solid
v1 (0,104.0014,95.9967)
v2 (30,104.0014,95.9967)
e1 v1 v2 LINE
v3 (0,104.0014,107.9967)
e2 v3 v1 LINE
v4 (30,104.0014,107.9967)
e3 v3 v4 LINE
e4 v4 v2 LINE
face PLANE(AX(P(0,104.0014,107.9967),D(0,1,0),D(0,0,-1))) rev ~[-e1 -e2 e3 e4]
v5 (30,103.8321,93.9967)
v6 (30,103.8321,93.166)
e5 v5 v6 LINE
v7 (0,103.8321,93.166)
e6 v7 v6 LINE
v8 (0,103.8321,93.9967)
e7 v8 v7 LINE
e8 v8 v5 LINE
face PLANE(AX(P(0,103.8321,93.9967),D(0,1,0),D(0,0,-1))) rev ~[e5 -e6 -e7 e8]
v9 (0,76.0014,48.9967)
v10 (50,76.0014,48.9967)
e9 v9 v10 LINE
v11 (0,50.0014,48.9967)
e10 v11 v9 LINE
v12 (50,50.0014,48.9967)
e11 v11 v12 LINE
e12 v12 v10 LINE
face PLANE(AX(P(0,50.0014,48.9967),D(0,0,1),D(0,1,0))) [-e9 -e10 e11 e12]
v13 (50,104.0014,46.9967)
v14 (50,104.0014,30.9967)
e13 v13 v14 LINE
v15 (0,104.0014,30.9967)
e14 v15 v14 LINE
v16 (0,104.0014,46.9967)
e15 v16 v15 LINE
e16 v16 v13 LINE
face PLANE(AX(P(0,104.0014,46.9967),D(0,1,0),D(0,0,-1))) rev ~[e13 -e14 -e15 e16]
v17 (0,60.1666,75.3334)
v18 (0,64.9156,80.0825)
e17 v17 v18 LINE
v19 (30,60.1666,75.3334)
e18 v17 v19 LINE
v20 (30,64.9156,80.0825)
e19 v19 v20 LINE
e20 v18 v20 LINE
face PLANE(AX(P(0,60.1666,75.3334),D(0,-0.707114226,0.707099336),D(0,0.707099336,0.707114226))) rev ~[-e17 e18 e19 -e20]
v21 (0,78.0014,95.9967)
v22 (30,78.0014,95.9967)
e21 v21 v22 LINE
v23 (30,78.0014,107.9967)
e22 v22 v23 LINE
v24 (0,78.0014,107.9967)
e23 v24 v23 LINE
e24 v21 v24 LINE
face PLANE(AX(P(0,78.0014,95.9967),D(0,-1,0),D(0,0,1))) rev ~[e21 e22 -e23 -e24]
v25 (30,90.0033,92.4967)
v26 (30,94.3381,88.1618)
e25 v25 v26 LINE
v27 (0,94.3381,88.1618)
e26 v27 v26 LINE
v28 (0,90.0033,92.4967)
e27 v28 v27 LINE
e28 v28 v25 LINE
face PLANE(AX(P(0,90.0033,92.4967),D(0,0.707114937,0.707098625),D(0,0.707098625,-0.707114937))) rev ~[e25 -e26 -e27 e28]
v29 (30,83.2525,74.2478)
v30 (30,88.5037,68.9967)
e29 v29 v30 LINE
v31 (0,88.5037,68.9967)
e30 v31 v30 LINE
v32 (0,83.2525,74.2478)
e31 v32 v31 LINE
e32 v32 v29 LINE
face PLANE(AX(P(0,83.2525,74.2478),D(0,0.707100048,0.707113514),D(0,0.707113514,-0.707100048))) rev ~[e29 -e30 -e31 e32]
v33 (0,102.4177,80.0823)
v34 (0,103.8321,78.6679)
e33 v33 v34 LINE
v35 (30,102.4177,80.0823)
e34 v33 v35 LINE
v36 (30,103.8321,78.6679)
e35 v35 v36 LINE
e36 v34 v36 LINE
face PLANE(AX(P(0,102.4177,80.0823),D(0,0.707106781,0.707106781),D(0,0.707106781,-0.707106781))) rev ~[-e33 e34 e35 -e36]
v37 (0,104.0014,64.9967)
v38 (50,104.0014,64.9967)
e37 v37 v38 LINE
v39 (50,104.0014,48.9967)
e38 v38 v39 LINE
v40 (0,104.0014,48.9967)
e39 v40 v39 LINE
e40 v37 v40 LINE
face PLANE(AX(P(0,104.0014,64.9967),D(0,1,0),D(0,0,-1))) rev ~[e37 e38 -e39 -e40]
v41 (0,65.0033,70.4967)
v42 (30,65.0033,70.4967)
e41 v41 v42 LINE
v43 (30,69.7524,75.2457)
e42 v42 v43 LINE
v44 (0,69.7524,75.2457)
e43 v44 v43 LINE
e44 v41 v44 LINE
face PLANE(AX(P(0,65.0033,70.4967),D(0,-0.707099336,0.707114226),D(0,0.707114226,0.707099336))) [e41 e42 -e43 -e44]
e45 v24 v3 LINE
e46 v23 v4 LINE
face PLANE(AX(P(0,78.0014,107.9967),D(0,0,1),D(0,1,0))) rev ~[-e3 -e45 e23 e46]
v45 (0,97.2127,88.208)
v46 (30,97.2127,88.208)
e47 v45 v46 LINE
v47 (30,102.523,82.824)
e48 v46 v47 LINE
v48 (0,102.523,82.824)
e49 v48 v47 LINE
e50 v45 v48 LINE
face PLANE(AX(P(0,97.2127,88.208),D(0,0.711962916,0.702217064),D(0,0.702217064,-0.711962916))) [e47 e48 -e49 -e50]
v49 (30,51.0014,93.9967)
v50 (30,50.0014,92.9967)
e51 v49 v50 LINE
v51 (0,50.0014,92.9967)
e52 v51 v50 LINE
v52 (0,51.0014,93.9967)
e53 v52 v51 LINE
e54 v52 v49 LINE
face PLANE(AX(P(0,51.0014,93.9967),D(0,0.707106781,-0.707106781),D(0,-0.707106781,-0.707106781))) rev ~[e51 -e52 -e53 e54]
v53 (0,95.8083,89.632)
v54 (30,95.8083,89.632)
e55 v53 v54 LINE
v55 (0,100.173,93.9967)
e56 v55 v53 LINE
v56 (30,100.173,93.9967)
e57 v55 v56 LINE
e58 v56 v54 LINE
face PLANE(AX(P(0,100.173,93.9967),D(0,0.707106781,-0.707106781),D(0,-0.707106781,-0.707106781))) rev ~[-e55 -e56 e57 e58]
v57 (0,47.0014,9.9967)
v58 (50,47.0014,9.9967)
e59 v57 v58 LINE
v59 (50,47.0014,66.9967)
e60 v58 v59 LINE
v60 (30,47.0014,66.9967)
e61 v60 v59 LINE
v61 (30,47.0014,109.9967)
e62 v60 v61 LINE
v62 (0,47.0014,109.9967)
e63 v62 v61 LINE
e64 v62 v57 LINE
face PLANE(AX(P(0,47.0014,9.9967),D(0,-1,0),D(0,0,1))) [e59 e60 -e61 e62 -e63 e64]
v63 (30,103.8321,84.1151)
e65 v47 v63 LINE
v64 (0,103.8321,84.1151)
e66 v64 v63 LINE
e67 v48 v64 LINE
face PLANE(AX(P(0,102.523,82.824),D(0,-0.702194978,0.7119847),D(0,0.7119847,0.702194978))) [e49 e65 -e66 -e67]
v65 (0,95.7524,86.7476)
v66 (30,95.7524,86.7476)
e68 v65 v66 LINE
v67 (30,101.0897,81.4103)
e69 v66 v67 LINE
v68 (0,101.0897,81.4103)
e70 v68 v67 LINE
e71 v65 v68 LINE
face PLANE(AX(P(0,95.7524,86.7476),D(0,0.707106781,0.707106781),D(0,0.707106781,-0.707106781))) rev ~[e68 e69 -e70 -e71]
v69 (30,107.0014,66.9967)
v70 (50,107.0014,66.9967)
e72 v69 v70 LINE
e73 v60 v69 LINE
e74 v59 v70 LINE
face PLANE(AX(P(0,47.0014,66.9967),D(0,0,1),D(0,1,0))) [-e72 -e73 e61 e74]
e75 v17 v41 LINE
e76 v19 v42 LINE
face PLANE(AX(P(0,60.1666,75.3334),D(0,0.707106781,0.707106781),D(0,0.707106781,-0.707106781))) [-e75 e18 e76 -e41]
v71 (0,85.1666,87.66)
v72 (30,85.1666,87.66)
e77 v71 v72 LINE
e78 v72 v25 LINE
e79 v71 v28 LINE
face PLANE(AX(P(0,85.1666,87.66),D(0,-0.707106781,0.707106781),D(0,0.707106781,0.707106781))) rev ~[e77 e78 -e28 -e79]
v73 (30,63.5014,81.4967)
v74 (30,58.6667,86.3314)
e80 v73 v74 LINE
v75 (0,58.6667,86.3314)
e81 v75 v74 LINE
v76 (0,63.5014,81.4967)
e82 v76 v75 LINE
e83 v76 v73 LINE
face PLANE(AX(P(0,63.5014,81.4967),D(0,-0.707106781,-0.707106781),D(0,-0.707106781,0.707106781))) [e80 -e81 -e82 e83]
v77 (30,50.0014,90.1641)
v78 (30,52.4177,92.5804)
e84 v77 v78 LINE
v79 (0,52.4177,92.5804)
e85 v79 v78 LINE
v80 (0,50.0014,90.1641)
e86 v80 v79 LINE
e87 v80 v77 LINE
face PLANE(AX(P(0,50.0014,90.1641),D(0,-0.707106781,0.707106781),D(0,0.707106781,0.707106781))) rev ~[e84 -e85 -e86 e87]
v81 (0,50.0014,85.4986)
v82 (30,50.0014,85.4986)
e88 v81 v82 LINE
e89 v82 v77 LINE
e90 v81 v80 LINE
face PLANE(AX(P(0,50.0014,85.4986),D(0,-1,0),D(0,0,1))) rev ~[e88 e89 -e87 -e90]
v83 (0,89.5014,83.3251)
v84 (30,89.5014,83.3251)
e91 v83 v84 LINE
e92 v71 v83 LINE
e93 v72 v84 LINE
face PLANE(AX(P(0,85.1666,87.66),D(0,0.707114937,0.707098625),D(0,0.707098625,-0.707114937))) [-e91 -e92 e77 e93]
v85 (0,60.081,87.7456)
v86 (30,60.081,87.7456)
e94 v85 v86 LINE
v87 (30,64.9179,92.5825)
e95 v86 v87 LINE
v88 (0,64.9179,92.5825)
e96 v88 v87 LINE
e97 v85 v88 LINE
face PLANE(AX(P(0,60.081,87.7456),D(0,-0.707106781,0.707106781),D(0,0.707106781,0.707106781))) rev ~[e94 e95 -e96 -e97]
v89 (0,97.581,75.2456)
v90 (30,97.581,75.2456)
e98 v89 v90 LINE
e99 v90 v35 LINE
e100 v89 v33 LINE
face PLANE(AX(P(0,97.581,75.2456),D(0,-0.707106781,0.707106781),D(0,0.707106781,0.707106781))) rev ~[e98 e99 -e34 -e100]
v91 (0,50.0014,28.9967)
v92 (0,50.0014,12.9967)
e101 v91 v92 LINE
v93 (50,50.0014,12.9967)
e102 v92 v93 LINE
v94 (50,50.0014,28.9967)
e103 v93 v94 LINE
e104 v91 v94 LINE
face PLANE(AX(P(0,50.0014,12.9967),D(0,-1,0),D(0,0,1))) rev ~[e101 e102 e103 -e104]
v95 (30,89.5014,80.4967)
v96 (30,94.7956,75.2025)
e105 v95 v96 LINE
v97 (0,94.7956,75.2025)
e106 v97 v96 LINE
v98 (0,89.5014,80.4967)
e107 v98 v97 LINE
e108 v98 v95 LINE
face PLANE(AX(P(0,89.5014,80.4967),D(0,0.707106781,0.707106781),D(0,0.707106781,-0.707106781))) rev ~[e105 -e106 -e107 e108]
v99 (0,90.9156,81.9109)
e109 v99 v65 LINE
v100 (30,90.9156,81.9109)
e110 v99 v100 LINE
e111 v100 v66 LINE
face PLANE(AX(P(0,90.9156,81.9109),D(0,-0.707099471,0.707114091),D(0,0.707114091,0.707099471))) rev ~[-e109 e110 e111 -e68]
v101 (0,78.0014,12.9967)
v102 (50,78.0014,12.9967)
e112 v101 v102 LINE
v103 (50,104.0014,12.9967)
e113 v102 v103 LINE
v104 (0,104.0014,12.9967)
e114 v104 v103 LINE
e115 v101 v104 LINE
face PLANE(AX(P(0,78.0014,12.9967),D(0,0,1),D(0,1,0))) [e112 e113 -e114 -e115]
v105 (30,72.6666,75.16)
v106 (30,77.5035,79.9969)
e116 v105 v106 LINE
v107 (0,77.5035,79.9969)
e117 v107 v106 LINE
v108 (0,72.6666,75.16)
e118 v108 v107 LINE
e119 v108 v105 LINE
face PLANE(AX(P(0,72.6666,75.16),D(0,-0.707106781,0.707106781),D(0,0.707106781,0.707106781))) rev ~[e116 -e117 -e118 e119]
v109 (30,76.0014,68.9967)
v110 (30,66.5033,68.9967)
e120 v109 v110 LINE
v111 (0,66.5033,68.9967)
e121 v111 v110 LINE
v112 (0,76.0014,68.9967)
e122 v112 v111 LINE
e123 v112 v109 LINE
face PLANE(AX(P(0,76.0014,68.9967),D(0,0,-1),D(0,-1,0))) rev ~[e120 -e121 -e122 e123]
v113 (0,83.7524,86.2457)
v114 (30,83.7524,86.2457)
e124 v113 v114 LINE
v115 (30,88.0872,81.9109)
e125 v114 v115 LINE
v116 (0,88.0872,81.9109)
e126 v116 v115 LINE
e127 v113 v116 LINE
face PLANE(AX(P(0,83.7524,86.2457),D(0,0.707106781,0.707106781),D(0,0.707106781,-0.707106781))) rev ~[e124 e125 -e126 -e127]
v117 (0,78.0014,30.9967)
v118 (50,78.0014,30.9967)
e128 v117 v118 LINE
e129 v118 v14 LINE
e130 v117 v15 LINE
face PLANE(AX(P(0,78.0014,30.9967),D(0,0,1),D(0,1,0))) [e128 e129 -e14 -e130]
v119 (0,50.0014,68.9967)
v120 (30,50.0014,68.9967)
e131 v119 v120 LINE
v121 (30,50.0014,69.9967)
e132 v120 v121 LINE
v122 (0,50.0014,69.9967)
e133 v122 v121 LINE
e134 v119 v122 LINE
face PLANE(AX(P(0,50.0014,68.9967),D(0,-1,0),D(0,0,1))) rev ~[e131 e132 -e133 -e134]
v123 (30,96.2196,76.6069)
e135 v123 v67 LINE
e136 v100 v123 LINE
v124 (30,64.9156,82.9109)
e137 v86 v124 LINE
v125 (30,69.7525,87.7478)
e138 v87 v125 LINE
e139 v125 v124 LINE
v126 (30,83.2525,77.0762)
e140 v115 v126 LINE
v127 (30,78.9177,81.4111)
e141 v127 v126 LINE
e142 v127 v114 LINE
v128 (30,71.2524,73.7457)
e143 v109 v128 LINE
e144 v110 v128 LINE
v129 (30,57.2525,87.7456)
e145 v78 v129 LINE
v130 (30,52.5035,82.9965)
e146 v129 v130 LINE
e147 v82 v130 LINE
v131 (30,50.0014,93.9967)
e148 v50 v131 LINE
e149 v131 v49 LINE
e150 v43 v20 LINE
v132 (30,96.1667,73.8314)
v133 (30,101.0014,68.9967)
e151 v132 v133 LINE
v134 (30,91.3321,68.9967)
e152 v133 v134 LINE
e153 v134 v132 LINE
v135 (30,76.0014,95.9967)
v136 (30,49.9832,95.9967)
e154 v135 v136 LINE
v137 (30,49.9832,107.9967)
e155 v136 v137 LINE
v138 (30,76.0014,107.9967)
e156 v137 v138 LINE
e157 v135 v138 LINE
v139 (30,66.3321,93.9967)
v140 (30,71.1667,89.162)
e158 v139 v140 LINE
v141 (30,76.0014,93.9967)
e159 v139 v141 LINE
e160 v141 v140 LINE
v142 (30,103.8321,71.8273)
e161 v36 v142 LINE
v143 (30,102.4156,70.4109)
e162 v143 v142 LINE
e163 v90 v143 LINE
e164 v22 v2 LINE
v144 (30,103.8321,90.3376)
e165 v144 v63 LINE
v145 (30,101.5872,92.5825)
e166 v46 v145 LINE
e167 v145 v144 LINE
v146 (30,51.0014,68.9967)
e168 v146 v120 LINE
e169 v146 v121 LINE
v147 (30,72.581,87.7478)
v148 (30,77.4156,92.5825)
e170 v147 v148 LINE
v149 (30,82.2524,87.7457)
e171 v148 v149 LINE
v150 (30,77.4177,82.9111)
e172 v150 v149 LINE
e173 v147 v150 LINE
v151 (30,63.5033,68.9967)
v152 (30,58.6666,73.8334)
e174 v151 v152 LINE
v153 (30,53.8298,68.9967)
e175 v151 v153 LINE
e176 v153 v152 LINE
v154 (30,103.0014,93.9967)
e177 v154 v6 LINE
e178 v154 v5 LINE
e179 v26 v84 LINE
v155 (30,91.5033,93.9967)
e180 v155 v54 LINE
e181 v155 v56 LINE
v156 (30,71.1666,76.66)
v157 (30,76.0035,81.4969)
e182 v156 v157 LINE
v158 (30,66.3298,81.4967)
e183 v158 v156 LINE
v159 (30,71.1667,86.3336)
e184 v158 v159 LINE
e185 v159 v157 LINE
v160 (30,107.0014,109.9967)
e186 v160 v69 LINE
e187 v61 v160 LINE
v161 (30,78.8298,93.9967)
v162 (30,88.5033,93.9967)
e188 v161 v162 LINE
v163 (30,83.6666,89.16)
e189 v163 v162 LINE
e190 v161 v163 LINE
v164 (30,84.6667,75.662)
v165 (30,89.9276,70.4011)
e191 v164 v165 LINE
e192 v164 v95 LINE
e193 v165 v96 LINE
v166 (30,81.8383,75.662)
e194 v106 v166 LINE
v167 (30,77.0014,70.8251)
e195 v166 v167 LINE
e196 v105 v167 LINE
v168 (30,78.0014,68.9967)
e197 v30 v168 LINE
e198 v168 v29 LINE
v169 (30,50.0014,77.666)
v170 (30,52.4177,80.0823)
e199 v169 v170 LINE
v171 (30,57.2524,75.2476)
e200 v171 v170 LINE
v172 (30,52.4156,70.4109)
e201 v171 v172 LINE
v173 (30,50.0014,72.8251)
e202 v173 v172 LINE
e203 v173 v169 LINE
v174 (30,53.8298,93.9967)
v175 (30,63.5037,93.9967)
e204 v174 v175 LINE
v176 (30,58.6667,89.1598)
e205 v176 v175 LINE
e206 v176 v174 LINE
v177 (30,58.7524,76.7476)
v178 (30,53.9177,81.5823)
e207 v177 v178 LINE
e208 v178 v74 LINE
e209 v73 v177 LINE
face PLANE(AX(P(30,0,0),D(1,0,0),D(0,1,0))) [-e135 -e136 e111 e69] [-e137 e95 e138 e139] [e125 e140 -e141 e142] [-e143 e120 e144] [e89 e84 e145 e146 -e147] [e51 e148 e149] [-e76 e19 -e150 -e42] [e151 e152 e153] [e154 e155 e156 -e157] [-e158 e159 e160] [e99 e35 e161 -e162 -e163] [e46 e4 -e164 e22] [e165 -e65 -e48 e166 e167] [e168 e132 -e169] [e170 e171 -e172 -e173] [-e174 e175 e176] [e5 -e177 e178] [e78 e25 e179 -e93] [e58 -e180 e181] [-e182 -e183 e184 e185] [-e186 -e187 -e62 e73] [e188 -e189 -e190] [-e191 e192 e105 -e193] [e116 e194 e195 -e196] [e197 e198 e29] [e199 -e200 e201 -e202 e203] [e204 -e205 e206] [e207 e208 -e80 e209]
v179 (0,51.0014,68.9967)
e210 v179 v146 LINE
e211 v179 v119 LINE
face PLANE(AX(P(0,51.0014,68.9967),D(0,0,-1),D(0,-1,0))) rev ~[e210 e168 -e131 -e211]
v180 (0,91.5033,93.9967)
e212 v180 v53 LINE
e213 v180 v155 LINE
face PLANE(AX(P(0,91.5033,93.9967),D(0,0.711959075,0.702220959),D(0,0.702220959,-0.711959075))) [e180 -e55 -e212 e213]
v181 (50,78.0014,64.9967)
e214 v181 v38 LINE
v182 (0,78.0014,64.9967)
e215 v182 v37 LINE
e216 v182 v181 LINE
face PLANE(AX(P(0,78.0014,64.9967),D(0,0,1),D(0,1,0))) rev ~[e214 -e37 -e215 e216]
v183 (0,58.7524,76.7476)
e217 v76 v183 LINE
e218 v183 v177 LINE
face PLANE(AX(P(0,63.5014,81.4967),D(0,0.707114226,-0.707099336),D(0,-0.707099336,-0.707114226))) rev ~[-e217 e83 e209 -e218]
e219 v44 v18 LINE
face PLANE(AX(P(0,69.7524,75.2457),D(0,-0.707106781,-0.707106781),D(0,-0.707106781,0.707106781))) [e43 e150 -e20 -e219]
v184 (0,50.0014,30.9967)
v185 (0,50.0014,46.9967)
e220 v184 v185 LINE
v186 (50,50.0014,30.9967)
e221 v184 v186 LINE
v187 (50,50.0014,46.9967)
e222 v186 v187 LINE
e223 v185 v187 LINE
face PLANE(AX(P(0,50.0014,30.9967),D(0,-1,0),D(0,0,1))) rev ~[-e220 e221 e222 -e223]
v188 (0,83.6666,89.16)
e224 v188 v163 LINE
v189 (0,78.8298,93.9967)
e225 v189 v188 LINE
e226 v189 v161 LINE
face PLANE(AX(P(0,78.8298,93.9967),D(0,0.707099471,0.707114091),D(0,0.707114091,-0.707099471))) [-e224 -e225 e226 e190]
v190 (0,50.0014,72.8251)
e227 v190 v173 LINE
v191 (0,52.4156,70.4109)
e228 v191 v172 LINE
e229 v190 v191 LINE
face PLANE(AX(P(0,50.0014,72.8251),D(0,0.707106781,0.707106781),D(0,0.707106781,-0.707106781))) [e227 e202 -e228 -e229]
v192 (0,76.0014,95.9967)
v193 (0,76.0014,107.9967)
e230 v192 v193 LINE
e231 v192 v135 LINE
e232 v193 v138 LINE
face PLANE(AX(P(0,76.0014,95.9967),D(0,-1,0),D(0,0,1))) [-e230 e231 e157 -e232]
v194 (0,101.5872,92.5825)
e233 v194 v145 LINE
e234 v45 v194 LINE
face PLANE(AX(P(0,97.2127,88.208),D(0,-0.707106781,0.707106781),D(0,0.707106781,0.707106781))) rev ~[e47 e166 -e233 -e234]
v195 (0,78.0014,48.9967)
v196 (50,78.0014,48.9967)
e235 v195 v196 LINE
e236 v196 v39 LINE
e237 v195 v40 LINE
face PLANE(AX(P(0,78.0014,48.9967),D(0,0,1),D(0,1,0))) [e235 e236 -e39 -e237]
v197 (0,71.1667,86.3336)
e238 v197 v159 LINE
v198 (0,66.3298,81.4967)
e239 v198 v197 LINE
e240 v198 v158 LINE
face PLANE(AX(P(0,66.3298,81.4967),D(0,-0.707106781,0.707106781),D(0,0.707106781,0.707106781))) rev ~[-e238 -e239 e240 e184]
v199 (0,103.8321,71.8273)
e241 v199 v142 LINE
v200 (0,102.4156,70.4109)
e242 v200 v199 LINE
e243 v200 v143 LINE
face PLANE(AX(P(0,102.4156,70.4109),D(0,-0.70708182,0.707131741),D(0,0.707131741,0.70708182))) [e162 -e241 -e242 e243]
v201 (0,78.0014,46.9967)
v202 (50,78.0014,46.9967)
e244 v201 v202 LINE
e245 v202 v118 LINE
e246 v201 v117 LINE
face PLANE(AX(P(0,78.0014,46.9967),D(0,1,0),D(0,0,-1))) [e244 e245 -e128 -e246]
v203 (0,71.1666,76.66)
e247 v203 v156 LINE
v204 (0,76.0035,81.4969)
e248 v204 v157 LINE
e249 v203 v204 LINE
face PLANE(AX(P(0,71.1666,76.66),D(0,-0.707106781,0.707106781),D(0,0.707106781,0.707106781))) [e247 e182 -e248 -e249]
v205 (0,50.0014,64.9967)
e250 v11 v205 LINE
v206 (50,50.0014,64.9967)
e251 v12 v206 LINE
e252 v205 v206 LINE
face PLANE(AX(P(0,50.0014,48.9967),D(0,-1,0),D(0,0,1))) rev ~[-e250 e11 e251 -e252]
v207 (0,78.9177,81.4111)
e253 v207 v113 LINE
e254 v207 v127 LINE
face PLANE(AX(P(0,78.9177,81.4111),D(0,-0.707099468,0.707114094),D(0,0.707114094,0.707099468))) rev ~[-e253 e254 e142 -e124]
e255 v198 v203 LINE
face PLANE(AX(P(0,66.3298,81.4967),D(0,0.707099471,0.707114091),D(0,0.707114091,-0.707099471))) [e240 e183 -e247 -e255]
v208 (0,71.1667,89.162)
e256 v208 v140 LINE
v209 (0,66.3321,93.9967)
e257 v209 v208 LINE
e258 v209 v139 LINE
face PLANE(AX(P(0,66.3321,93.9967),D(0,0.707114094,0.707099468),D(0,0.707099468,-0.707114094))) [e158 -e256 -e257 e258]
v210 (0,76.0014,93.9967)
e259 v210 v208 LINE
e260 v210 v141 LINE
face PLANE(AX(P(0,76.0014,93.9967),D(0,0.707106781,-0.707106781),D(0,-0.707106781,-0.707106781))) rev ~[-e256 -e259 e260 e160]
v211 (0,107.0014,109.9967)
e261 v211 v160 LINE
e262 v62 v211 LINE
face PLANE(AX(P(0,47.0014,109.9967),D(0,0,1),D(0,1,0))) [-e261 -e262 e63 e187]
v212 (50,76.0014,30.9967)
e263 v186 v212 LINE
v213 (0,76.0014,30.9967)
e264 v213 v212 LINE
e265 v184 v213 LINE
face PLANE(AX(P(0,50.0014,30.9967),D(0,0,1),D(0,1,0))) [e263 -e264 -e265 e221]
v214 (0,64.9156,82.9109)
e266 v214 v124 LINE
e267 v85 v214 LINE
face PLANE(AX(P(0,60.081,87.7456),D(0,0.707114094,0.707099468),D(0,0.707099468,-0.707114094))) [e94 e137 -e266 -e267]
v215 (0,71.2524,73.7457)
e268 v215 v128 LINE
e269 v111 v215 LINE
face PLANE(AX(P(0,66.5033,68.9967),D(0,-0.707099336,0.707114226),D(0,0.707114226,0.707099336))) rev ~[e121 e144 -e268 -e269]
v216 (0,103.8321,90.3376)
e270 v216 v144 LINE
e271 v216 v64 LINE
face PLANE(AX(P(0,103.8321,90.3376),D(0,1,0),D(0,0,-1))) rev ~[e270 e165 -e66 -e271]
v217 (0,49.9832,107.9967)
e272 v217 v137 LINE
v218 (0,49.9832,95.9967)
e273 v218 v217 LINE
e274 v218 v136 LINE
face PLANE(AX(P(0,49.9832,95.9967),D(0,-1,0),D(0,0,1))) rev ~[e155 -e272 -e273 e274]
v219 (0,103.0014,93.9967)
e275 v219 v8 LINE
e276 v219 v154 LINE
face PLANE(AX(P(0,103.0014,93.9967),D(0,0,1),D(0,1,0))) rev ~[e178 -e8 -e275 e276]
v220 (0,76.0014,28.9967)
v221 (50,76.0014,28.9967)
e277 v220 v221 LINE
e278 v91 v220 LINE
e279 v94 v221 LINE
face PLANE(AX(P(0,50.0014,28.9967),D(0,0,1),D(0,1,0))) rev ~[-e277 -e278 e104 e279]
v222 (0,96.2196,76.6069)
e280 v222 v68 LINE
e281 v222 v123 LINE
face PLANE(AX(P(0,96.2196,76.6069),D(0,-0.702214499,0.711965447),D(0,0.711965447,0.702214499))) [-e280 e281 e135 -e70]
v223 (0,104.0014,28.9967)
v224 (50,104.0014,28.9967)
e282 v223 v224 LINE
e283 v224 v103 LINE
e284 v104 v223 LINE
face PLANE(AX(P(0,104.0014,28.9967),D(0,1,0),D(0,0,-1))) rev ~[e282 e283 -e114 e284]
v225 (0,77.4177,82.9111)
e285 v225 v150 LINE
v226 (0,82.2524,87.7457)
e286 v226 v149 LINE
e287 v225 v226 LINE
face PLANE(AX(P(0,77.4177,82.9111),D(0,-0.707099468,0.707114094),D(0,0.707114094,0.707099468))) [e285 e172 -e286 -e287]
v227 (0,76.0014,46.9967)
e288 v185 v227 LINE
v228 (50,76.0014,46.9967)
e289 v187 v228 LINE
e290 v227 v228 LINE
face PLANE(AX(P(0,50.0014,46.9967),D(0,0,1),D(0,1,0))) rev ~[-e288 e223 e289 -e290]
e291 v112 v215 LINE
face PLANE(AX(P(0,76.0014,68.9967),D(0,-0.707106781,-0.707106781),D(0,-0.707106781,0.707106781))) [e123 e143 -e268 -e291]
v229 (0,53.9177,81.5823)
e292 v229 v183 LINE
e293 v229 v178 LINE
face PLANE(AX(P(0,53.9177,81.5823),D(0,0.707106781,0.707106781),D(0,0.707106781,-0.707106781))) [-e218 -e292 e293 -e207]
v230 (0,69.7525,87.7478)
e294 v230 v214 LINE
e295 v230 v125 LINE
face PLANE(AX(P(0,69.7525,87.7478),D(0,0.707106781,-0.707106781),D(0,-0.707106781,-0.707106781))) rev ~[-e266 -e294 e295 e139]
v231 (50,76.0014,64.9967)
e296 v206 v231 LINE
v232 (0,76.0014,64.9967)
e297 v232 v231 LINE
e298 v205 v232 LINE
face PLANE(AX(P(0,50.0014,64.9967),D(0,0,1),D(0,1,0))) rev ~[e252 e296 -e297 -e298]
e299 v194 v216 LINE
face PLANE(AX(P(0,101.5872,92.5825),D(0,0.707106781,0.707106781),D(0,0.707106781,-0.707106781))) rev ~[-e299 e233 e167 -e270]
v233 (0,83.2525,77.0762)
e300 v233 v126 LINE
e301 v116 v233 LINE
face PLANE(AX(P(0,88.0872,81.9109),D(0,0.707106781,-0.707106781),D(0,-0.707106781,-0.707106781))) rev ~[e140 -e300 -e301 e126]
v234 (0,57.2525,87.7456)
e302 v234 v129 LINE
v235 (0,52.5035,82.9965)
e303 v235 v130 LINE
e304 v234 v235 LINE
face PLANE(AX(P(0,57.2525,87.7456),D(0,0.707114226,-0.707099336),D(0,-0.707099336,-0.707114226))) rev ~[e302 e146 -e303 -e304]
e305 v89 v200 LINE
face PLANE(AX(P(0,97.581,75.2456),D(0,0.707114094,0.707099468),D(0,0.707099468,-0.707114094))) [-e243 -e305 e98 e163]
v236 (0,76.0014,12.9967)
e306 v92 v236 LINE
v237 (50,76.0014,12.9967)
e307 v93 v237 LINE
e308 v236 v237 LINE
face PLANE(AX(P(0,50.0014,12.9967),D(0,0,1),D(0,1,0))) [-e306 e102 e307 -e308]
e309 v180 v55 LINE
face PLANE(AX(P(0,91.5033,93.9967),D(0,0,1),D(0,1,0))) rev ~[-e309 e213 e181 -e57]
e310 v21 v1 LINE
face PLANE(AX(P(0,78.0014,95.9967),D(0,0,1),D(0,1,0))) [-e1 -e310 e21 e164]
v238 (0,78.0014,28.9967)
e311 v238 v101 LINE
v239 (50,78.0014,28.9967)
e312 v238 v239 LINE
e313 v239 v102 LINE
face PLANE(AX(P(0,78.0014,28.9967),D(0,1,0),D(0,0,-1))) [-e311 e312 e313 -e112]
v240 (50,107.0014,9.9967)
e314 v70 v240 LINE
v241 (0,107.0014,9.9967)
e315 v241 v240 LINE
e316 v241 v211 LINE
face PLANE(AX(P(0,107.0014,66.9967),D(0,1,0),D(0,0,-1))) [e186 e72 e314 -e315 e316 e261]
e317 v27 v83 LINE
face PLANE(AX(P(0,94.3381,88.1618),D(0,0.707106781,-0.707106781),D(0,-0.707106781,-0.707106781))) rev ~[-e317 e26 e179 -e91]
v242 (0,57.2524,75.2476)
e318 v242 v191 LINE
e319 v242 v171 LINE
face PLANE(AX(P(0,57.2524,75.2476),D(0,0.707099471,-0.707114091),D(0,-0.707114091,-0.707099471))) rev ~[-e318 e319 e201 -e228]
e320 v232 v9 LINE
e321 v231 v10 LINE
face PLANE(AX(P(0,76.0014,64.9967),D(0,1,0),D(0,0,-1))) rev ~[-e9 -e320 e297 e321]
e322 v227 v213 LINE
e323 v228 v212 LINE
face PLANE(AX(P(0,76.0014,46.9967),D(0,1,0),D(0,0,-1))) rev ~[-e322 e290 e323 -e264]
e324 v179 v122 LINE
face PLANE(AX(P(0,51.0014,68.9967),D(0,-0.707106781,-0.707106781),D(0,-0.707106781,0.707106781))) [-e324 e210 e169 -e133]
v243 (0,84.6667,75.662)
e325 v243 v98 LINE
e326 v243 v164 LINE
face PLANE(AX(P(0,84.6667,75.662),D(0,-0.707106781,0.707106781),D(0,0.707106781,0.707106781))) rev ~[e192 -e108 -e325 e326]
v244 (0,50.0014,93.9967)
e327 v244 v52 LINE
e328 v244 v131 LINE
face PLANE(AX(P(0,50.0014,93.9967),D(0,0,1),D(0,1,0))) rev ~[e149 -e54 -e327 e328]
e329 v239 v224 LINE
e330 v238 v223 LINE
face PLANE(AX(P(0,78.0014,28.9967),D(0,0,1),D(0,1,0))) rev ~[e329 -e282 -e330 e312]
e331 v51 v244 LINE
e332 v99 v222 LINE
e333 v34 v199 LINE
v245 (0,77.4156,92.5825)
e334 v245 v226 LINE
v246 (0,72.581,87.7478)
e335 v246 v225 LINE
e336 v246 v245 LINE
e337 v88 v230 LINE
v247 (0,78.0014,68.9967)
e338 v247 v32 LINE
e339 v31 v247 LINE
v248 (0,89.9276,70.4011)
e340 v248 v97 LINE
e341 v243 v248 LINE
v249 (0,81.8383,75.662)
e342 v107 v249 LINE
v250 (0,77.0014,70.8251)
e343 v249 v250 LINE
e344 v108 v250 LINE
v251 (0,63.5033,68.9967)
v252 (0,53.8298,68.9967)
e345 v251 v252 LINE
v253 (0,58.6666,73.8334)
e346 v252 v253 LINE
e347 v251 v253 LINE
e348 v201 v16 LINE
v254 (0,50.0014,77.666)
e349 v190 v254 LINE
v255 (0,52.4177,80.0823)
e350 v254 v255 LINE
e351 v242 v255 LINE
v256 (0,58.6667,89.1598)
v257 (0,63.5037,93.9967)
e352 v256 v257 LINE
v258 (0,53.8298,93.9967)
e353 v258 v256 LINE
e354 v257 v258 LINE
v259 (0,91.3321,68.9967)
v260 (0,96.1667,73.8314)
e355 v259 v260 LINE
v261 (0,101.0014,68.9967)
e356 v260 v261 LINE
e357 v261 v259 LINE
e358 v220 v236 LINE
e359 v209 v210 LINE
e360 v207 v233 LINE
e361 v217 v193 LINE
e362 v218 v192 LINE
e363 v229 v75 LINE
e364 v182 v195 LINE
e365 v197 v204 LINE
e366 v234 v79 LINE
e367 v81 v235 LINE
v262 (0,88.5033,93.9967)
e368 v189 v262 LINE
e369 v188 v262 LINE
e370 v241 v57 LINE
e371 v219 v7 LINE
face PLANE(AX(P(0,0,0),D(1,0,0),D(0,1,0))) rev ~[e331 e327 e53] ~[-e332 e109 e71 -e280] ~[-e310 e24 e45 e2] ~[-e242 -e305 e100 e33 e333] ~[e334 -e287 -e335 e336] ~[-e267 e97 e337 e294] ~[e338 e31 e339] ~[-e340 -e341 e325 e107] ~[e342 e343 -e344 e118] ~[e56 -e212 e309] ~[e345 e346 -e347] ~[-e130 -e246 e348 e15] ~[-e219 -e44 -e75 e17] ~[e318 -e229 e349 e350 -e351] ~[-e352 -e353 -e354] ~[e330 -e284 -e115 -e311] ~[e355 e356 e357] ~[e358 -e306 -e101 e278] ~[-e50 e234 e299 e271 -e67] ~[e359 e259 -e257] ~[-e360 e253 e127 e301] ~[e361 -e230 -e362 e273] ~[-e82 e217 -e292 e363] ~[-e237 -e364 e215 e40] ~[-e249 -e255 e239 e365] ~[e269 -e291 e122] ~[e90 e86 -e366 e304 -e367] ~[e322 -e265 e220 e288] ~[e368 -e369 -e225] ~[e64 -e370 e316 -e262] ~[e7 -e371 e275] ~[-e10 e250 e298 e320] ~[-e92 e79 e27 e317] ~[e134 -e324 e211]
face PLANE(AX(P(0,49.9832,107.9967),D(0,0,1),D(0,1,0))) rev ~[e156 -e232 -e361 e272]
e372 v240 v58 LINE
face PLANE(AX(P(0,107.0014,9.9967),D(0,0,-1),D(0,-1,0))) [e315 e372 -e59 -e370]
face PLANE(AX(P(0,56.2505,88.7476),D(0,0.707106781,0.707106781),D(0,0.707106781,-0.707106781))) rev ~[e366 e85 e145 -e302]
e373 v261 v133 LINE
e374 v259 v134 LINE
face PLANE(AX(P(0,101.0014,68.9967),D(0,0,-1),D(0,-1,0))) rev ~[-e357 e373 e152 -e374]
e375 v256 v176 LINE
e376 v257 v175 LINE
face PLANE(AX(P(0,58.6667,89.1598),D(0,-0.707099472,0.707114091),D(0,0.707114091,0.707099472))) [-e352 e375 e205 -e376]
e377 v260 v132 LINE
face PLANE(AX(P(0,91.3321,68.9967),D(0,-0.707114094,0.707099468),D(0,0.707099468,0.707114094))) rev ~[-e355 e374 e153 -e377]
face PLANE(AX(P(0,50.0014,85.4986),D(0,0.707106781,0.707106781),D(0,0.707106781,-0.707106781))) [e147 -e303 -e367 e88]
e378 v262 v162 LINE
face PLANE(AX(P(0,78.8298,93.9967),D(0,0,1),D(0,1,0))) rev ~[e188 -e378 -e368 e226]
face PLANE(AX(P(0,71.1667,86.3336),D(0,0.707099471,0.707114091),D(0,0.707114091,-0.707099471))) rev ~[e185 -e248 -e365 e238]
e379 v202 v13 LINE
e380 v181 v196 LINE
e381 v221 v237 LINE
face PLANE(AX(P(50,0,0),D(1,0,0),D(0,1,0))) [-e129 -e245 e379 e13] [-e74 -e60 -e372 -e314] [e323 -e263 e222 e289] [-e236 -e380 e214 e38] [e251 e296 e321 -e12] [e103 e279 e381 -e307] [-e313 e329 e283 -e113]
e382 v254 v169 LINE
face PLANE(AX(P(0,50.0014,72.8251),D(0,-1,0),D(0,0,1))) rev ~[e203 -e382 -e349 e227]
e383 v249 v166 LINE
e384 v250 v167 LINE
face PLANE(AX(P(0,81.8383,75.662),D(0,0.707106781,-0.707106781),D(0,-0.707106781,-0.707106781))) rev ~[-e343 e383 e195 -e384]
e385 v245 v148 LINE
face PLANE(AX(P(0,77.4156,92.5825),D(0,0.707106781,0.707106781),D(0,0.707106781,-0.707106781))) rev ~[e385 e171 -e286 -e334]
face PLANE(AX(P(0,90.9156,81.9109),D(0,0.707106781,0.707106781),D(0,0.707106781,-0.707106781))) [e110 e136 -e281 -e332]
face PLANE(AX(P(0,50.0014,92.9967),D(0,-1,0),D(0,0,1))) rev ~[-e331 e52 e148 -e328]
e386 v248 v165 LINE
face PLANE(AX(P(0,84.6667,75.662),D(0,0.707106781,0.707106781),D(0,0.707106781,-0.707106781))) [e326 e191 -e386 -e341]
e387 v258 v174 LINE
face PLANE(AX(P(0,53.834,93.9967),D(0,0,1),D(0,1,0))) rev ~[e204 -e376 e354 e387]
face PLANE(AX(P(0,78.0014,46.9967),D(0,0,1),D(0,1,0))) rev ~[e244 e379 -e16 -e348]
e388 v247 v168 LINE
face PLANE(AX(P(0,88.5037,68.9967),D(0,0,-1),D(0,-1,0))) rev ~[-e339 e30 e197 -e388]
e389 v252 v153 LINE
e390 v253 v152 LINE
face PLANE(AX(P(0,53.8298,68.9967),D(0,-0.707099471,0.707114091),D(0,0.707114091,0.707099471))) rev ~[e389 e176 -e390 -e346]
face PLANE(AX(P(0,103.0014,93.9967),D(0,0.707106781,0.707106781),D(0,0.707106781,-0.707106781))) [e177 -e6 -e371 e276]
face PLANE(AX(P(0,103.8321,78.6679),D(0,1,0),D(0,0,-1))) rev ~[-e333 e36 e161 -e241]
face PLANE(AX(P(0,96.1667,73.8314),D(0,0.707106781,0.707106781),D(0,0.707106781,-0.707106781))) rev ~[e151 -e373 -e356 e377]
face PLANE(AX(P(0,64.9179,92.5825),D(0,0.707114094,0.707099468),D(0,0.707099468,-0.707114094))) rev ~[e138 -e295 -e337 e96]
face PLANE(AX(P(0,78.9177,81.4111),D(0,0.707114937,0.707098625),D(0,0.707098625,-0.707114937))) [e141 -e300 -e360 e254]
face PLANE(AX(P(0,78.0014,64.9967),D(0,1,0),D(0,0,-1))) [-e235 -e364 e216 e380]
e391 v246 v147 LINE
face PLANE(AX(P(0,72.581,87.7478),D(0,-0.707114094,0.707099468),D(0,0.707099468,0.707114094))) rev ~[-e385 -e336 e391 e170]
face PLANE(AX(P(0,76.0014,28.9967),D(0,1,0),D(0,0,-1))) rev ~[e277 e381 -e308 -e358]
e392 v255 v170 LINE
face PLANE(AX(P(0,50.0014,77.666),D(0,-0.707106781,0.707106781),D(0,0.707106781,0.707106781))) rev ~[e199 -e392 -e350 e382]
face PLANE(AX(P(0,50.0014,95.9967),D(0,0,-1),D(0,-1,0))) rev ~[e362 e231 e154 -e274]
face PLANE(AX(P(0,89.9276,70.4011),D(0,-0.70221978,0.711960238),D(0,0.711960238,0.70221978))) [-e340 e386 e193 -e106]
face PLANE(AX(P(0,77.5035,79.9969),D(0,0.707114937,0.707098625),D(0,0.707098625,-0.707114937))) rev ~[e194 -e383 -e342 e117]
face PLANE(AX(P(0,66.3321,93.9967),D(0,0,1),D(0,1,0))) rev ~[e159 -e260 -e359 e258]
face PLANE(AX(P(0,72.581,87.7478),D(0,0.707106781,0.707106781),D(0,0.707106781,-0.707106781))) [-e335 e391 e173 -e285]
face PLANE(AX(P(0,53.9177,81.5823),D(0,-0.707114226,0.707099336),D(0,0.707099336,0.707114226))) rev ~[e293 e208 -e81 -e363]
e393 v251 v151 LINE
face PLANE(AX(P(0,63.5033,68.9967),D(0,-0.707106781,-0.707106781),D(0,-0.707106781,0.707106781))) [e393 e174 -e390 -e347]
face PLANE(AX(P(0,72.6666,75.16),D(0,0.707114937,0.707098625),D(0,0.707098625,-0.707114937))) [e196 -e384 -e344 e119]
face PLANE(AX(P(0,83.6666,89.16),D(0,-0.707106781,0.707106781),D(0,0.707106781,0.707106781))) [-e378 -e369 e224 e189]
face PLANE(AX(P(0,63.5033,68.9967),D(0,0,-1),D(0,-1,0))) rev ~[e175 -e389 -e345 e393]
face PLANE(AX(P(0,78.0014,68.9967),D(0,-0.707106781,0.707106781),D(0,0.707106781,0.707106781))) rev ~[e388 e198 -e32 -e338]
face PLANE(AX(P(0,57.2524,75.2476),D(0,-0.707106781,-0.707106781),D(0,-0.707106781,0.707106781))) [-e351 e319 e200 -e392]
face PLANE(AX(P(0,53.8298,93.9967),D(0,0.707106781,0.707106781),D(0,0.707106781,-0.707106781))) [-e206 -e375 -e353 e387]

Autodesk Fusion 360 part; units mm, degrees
sketch "Boceto1" plane through (0, 0, 0) normal (1, 0, 0) x (0, 1, 0)
  line L0 (47.0014, 109.9967) -> (107.0014, 109.9967)
  line L1 (107.0014, 109.9967) -> (107.0014, 9.9967)
  line L2 (107.0014, 9.9967) -> (47.0014, 9.9967)
  line L3 (47.0014, 9.9967) -> (47.0014, 109.9967)
  line L4 (47.0014, 66.9967) -> (107.0014, 66.9967)
  line L5 (104.0014, 13.7115) -> (104.0014, 13.2245)
  line L6 (50.0014, 13.2245) -> (50.0014, 13.7115)
  line L7 (76.0014, 64.9967) -> (76.0014, 48.9967)
  line L8 (78.0014, 64.9967) -> (78.0014, 48.9967)
  line L9 (50.0014, 48.9967) -> (76.0014, 48.9967)
  line L10 (78.0014, 48.9967) -> (104.0014, 48.9967)
  line L11 (50.0014, 64.9967) -> (76.0014, 64.9967)
  line L12 (78.0014, 64.9967) -> (104.0014, 64.9967)
  line L13 (76.0014, 46.9967) -> (76.0014, 30.9967)
  line L14 (78.0014, 46.9967) -> (78.0014, 30.9967)
  line L15 (76.0014, 28.9967) -> (76.0014, 12.9967)
  line L16 (78.0014, 28.9967) -> (78.0014, 12.9967)
  line L17 (50.0014, 30.9967) -> (76.0014, 30.9967)
  line L18 (78.0014, 30.9967) -> (104.0014, 30.9967)
  line L19 (50.0014, 12.9967) -> (76.0014, 12.9967)
  line L20 (78.0014, 12.9967) -> (104.0014, 12.9967)
  line L21 (50.0014, 46.9967) -> (76.0014, 46.9967)
  line L22 (78.0014, 46.9967) -> (104.0014, 46.9967)
  line L23 (104.0014, 64.9967) -> (104.0014, 48.9967)
  line L24 (50.0014, 28.9967) -> (76.0014, 28.9967)
  line L25 (78.0014, 28.9967) -> (104.0014, 28.9967)
  line L26 (104.0014, 46.9967) -> (104.0014, 30.9967)
  line L27 (104.0014, 28.9967) -> (104.0014, 12.9967)
  line L28 (50.0014, 12.9967) -> (50.0014, 28.9967)
  line L29 (50.0014, 30.9967) -> (50.0014, 46.9967)
  line L30 (50.0014, 48.9967) -> (50.0014, 64.9967)
  line L31 (103.8321, 93.9967) -> (103.8321, 68.9967)
  line L32 (103.8321, 68.9967) -> (50.0014, 68.9967)
  line L33 (50.0014, 68.9967) -> (50.0014, 93.9967)
  line L34 (104.0014, 107.9967) -> (104.0014, 95.9967)
  line L35 (49.9832, 95.9967) -> (49.9832, 107.9967)
  line L36 (50.0014, 93.9967) -> (103.8321, 93.9967)
  line L37 (76.0014, 95.9967) -> (76.0014, 107.9967)
  line L38 (78.0014, 95.9967) -> (78.0014, 107.9967)
  line L39 (50.0014, 95.9967) -> (76.0014, 95.9967)
  line L40 (78.0014, 95.9967) -> (104.0014, 95.9967)
  line L41 (49.9832, 107.9967) -> (76.0014, 107.9967)
  line L42 (78.0014, 107.9967) -> (104.0014, 107.9967)
  line L43 (104.0014, 95.9967) -> (78.0014, 95.9967)
  line L44 (76.0014, 95.9967) -> (49.9832, 95.9967)
  line L45 (51.0014, 68.9967) -> (50.0014, 69.9967)
  line L46 (50.0014, 72.8251) -> (52.4156, 70.4109)
  line L47 (51.0014, 93.9967) -> (50.0014, 92.9967)
  line L48 (50.0014, 77.666) -> (52.4177, 80.0823)
  line L49 (57.2524, 75.2476) -> (52.4156, 70.4109)
  line L50 (63.5033, 68.9967) -> (58.6666, 73.8334)
  line L51 (57.2524, 75.2476) -> (52.4177, 80.0823)
  line L52 (53.9177, 81.5823) -> (58.7524, 76.7476)
  line L53 (60.1666, 75.3334) -> (65.0033, 70.4967)
  line L54 (53.8298, 68.9967) -> (58.6666, 73.8334)
  line L55 (56.2505, 88.7476) -> (52.4177, 92.5804)
  line L56 (53.8298, 93.9967) -> (58.6667, 89.1598)
  line L57 (58.6667, 89.1598) -> (63.5037, 93.9967)
  line L58 (50.0014, 90.1641) -> (52.4177, 92.5804)
  line L59 (53.8319, 93.9946) -> (53.834, 93.9967)
  line L60 (57.2525, 87.7456) -> (52.5035, 82.9965)
  line L61 (56.2505, 88.7476) -> (57.2525, 87.7456)
  line L62 (50.0014, 85.4986) -> (52.5035, 82.9965)
  line L63 (53.9177, 81.5823) -> (54, 81.5)
  line L64 (53.9177, 81.5823) -> (58.6667, 86.3314)
  line L65 (63.5014, 81.4967) -> (58.7524, 76.7476)
  line L66 (60.1666, 75.3334) -> (64.9156, 80.0825)
  line L67 (63.5014, 81.4967) -> (58.6667, 86.3314)
  line L68 (60.081, 87.7456) -> (64.9156, 82.9109)
  line L69 (101.5872, 92.5825) -> (103.8321, 90.3376)
  line L70 (103.0014, 93.9967) -> (103.8321, 93.166)
  line L71 (102.4156, 70.4109) -> (103.8321, 71.8273)
  line L72 (76.0014, 68.9967) -> (71.2524, 73.7457)
  line L73 (69.7524, 75.2457) -> (64.9156, 80.0825)
  line L74 (60.081, 87.7456) -> (64.9179, 92.5825)
  line L75 (76.0014, 93.9967) -> (71.1667, 89.162)
  line L76 (69.7525, 87.7478) -> (64.9156, 82.9109)
  line L77 (64.9179, 92.5825) -> (69.7525, 87.7478)
  line L78 (66.3321, 93.9967) -> (71.1667, 89.162)
  line L79 (83.6666, 89.16) -> (88.5033, 93.9967)
  line L80 (85.1666, 87.66) -> (90.0033, 92.4967)
  line L81 (77.4156, 92.5825) -> (82.2524, 87.7457)
  line L82 (72.581, 87.7478) -> (77.4177, 82.9111)
  line L83 (77.4177, 82.9111) -> (82.2524, 87.7457)
  line L84 (66.3298, 81.4967) -> (71.1667, 86.3336)
  line L85 (72.581, 87.7478) -> (77.4156, 92.5825)
  line L86 (65.0033, 70.4967) -> (69.7524, 75.2457)
  line L87 (71.1666, 76.66) -> (76.0035, 81.4969)
  line L88 (66.5033, 68.9967) -> (71.2524, 73.7457)
  line L89 (71.1667, 86.3336) -> (76.0035, 81.4969)
  line L90 (66.3298, 81.4967) -> (71.1666, 76.66)
  line L91 (72.6666, 75.16) -> (77.0014, 70.8251)
  line L92 (78.8298, 93.9967) -> (83.6666, 89.16)
  line L93 (100.173, 93.9967) -> (95.8083, 89.632)
  line L94 (91.5033, 93.9967) -> (95.8083, 89.632)
  line L95 (97.2127, 88.208) -> (102.523, 82.824)
  line L96 (90.0033, 92.4967) -> (94.3381, 88.1618)
  line L97 (85.1666, 87.66) -> (89.5014, 83.3251)
  line L98 (97.2127, 88.208) -> (101.5872, 92.5825)
  line L99 (94.3381, 88.1618) -> (89.5014, 83.3251)
  line L100 (90.9156, 81.9109) -> (95.7524, 86.7476)
  line L101 (89.9276, 70.4011) -> (94.7956, 75.2025)
  line L102 (91.3321, 68.9967) -> (96.1667, 73.8314)
  line L103 (97.581, 75.2456) -> (102.4177, 80.0823)
  line L104 (95.7524, 86.7476) -> (101.0897, 81.4103)
  line L105 (102.4177, 80.0823) -> (103.8321, 78.6679)
  line L106 (96.2196, 76.6069) -> (101.0897, 81.4103)
  line L107 (102.523, 82.824) -> (103.8321, 84.1151)
  line L108 (96.1667, 73.8314) -> (101.0014, 68.9967)
  line L109 (90.9156, 81.9109) -> (96.2196, 76.6069)
  line L110 (97.581, 75.2456) -> (102.4156, 70.4109)
  line L111 (78.0014, 68.9967) -> (83.2525, 74.2478)
  line L112 (84.6667, 75.662) -> (89.5014, 80.4967)
  line L113 (88.0872, 81.9109) -> (83.2525, 77.0762)
  line L114 (81.8383, 75.662) -> (77.0014, 70.8251)
  line L115 (72.6666, 75.16) -> (77.5035, 79.9969)
  line L116 (78.9177, 81.4111) -> (83.7524, 86.2457)
  line L117 (78.9177, 81.4111) -> (83.2525, 77.0762)
  line L118 (84.6667, 75.662) -> (89.9276, 70.4011)
  line L119 (77.5035, 79.9969) -> (81.8383, 75.662)
  line L120 (83.2525, 74.2478) -> (88.5037, 68.9967)
  line L121 (83.7524, 86.2457) -> (88.0872, 81.9109)
  line L122 (89.5014, 80.4967) -> (94.7956, 75.2025)
  dimension "d58" = 16
  dimension "d109" = 2
  dimension "d111" = 2
  dimension "d113" = 2
  dimension "d114" = 2
  dimension "d115" = 3
  dimension "d116" = 2
sketch "Boceto2" plane through (0, 0, 0) normal (1, 0, 0) x (0, 1, 0)
sketch "Boceto3" plane through (0, 0, 0) normal (1, 0, 0) x (0, 1, 0)
extrude "Extruir1" add sketch "Boceto1" along normal blind 50 contours L1 L2 L3 L4
extrude "Extruir2" add sketch "Boceto1" along normal blind 30 contours L0 L1 L3 L4 | L31 L32 L33 L36 L45 L46 L47 L48 L49 L50 L51 L54 L55 L56 L57 L58 L60 L61 L62 L69 L70 L71 L72 L75 L78 L79 L88 L92 L93 L94 L95 L98 L102 L103 L105 L107 L108 L110 L111 L120
